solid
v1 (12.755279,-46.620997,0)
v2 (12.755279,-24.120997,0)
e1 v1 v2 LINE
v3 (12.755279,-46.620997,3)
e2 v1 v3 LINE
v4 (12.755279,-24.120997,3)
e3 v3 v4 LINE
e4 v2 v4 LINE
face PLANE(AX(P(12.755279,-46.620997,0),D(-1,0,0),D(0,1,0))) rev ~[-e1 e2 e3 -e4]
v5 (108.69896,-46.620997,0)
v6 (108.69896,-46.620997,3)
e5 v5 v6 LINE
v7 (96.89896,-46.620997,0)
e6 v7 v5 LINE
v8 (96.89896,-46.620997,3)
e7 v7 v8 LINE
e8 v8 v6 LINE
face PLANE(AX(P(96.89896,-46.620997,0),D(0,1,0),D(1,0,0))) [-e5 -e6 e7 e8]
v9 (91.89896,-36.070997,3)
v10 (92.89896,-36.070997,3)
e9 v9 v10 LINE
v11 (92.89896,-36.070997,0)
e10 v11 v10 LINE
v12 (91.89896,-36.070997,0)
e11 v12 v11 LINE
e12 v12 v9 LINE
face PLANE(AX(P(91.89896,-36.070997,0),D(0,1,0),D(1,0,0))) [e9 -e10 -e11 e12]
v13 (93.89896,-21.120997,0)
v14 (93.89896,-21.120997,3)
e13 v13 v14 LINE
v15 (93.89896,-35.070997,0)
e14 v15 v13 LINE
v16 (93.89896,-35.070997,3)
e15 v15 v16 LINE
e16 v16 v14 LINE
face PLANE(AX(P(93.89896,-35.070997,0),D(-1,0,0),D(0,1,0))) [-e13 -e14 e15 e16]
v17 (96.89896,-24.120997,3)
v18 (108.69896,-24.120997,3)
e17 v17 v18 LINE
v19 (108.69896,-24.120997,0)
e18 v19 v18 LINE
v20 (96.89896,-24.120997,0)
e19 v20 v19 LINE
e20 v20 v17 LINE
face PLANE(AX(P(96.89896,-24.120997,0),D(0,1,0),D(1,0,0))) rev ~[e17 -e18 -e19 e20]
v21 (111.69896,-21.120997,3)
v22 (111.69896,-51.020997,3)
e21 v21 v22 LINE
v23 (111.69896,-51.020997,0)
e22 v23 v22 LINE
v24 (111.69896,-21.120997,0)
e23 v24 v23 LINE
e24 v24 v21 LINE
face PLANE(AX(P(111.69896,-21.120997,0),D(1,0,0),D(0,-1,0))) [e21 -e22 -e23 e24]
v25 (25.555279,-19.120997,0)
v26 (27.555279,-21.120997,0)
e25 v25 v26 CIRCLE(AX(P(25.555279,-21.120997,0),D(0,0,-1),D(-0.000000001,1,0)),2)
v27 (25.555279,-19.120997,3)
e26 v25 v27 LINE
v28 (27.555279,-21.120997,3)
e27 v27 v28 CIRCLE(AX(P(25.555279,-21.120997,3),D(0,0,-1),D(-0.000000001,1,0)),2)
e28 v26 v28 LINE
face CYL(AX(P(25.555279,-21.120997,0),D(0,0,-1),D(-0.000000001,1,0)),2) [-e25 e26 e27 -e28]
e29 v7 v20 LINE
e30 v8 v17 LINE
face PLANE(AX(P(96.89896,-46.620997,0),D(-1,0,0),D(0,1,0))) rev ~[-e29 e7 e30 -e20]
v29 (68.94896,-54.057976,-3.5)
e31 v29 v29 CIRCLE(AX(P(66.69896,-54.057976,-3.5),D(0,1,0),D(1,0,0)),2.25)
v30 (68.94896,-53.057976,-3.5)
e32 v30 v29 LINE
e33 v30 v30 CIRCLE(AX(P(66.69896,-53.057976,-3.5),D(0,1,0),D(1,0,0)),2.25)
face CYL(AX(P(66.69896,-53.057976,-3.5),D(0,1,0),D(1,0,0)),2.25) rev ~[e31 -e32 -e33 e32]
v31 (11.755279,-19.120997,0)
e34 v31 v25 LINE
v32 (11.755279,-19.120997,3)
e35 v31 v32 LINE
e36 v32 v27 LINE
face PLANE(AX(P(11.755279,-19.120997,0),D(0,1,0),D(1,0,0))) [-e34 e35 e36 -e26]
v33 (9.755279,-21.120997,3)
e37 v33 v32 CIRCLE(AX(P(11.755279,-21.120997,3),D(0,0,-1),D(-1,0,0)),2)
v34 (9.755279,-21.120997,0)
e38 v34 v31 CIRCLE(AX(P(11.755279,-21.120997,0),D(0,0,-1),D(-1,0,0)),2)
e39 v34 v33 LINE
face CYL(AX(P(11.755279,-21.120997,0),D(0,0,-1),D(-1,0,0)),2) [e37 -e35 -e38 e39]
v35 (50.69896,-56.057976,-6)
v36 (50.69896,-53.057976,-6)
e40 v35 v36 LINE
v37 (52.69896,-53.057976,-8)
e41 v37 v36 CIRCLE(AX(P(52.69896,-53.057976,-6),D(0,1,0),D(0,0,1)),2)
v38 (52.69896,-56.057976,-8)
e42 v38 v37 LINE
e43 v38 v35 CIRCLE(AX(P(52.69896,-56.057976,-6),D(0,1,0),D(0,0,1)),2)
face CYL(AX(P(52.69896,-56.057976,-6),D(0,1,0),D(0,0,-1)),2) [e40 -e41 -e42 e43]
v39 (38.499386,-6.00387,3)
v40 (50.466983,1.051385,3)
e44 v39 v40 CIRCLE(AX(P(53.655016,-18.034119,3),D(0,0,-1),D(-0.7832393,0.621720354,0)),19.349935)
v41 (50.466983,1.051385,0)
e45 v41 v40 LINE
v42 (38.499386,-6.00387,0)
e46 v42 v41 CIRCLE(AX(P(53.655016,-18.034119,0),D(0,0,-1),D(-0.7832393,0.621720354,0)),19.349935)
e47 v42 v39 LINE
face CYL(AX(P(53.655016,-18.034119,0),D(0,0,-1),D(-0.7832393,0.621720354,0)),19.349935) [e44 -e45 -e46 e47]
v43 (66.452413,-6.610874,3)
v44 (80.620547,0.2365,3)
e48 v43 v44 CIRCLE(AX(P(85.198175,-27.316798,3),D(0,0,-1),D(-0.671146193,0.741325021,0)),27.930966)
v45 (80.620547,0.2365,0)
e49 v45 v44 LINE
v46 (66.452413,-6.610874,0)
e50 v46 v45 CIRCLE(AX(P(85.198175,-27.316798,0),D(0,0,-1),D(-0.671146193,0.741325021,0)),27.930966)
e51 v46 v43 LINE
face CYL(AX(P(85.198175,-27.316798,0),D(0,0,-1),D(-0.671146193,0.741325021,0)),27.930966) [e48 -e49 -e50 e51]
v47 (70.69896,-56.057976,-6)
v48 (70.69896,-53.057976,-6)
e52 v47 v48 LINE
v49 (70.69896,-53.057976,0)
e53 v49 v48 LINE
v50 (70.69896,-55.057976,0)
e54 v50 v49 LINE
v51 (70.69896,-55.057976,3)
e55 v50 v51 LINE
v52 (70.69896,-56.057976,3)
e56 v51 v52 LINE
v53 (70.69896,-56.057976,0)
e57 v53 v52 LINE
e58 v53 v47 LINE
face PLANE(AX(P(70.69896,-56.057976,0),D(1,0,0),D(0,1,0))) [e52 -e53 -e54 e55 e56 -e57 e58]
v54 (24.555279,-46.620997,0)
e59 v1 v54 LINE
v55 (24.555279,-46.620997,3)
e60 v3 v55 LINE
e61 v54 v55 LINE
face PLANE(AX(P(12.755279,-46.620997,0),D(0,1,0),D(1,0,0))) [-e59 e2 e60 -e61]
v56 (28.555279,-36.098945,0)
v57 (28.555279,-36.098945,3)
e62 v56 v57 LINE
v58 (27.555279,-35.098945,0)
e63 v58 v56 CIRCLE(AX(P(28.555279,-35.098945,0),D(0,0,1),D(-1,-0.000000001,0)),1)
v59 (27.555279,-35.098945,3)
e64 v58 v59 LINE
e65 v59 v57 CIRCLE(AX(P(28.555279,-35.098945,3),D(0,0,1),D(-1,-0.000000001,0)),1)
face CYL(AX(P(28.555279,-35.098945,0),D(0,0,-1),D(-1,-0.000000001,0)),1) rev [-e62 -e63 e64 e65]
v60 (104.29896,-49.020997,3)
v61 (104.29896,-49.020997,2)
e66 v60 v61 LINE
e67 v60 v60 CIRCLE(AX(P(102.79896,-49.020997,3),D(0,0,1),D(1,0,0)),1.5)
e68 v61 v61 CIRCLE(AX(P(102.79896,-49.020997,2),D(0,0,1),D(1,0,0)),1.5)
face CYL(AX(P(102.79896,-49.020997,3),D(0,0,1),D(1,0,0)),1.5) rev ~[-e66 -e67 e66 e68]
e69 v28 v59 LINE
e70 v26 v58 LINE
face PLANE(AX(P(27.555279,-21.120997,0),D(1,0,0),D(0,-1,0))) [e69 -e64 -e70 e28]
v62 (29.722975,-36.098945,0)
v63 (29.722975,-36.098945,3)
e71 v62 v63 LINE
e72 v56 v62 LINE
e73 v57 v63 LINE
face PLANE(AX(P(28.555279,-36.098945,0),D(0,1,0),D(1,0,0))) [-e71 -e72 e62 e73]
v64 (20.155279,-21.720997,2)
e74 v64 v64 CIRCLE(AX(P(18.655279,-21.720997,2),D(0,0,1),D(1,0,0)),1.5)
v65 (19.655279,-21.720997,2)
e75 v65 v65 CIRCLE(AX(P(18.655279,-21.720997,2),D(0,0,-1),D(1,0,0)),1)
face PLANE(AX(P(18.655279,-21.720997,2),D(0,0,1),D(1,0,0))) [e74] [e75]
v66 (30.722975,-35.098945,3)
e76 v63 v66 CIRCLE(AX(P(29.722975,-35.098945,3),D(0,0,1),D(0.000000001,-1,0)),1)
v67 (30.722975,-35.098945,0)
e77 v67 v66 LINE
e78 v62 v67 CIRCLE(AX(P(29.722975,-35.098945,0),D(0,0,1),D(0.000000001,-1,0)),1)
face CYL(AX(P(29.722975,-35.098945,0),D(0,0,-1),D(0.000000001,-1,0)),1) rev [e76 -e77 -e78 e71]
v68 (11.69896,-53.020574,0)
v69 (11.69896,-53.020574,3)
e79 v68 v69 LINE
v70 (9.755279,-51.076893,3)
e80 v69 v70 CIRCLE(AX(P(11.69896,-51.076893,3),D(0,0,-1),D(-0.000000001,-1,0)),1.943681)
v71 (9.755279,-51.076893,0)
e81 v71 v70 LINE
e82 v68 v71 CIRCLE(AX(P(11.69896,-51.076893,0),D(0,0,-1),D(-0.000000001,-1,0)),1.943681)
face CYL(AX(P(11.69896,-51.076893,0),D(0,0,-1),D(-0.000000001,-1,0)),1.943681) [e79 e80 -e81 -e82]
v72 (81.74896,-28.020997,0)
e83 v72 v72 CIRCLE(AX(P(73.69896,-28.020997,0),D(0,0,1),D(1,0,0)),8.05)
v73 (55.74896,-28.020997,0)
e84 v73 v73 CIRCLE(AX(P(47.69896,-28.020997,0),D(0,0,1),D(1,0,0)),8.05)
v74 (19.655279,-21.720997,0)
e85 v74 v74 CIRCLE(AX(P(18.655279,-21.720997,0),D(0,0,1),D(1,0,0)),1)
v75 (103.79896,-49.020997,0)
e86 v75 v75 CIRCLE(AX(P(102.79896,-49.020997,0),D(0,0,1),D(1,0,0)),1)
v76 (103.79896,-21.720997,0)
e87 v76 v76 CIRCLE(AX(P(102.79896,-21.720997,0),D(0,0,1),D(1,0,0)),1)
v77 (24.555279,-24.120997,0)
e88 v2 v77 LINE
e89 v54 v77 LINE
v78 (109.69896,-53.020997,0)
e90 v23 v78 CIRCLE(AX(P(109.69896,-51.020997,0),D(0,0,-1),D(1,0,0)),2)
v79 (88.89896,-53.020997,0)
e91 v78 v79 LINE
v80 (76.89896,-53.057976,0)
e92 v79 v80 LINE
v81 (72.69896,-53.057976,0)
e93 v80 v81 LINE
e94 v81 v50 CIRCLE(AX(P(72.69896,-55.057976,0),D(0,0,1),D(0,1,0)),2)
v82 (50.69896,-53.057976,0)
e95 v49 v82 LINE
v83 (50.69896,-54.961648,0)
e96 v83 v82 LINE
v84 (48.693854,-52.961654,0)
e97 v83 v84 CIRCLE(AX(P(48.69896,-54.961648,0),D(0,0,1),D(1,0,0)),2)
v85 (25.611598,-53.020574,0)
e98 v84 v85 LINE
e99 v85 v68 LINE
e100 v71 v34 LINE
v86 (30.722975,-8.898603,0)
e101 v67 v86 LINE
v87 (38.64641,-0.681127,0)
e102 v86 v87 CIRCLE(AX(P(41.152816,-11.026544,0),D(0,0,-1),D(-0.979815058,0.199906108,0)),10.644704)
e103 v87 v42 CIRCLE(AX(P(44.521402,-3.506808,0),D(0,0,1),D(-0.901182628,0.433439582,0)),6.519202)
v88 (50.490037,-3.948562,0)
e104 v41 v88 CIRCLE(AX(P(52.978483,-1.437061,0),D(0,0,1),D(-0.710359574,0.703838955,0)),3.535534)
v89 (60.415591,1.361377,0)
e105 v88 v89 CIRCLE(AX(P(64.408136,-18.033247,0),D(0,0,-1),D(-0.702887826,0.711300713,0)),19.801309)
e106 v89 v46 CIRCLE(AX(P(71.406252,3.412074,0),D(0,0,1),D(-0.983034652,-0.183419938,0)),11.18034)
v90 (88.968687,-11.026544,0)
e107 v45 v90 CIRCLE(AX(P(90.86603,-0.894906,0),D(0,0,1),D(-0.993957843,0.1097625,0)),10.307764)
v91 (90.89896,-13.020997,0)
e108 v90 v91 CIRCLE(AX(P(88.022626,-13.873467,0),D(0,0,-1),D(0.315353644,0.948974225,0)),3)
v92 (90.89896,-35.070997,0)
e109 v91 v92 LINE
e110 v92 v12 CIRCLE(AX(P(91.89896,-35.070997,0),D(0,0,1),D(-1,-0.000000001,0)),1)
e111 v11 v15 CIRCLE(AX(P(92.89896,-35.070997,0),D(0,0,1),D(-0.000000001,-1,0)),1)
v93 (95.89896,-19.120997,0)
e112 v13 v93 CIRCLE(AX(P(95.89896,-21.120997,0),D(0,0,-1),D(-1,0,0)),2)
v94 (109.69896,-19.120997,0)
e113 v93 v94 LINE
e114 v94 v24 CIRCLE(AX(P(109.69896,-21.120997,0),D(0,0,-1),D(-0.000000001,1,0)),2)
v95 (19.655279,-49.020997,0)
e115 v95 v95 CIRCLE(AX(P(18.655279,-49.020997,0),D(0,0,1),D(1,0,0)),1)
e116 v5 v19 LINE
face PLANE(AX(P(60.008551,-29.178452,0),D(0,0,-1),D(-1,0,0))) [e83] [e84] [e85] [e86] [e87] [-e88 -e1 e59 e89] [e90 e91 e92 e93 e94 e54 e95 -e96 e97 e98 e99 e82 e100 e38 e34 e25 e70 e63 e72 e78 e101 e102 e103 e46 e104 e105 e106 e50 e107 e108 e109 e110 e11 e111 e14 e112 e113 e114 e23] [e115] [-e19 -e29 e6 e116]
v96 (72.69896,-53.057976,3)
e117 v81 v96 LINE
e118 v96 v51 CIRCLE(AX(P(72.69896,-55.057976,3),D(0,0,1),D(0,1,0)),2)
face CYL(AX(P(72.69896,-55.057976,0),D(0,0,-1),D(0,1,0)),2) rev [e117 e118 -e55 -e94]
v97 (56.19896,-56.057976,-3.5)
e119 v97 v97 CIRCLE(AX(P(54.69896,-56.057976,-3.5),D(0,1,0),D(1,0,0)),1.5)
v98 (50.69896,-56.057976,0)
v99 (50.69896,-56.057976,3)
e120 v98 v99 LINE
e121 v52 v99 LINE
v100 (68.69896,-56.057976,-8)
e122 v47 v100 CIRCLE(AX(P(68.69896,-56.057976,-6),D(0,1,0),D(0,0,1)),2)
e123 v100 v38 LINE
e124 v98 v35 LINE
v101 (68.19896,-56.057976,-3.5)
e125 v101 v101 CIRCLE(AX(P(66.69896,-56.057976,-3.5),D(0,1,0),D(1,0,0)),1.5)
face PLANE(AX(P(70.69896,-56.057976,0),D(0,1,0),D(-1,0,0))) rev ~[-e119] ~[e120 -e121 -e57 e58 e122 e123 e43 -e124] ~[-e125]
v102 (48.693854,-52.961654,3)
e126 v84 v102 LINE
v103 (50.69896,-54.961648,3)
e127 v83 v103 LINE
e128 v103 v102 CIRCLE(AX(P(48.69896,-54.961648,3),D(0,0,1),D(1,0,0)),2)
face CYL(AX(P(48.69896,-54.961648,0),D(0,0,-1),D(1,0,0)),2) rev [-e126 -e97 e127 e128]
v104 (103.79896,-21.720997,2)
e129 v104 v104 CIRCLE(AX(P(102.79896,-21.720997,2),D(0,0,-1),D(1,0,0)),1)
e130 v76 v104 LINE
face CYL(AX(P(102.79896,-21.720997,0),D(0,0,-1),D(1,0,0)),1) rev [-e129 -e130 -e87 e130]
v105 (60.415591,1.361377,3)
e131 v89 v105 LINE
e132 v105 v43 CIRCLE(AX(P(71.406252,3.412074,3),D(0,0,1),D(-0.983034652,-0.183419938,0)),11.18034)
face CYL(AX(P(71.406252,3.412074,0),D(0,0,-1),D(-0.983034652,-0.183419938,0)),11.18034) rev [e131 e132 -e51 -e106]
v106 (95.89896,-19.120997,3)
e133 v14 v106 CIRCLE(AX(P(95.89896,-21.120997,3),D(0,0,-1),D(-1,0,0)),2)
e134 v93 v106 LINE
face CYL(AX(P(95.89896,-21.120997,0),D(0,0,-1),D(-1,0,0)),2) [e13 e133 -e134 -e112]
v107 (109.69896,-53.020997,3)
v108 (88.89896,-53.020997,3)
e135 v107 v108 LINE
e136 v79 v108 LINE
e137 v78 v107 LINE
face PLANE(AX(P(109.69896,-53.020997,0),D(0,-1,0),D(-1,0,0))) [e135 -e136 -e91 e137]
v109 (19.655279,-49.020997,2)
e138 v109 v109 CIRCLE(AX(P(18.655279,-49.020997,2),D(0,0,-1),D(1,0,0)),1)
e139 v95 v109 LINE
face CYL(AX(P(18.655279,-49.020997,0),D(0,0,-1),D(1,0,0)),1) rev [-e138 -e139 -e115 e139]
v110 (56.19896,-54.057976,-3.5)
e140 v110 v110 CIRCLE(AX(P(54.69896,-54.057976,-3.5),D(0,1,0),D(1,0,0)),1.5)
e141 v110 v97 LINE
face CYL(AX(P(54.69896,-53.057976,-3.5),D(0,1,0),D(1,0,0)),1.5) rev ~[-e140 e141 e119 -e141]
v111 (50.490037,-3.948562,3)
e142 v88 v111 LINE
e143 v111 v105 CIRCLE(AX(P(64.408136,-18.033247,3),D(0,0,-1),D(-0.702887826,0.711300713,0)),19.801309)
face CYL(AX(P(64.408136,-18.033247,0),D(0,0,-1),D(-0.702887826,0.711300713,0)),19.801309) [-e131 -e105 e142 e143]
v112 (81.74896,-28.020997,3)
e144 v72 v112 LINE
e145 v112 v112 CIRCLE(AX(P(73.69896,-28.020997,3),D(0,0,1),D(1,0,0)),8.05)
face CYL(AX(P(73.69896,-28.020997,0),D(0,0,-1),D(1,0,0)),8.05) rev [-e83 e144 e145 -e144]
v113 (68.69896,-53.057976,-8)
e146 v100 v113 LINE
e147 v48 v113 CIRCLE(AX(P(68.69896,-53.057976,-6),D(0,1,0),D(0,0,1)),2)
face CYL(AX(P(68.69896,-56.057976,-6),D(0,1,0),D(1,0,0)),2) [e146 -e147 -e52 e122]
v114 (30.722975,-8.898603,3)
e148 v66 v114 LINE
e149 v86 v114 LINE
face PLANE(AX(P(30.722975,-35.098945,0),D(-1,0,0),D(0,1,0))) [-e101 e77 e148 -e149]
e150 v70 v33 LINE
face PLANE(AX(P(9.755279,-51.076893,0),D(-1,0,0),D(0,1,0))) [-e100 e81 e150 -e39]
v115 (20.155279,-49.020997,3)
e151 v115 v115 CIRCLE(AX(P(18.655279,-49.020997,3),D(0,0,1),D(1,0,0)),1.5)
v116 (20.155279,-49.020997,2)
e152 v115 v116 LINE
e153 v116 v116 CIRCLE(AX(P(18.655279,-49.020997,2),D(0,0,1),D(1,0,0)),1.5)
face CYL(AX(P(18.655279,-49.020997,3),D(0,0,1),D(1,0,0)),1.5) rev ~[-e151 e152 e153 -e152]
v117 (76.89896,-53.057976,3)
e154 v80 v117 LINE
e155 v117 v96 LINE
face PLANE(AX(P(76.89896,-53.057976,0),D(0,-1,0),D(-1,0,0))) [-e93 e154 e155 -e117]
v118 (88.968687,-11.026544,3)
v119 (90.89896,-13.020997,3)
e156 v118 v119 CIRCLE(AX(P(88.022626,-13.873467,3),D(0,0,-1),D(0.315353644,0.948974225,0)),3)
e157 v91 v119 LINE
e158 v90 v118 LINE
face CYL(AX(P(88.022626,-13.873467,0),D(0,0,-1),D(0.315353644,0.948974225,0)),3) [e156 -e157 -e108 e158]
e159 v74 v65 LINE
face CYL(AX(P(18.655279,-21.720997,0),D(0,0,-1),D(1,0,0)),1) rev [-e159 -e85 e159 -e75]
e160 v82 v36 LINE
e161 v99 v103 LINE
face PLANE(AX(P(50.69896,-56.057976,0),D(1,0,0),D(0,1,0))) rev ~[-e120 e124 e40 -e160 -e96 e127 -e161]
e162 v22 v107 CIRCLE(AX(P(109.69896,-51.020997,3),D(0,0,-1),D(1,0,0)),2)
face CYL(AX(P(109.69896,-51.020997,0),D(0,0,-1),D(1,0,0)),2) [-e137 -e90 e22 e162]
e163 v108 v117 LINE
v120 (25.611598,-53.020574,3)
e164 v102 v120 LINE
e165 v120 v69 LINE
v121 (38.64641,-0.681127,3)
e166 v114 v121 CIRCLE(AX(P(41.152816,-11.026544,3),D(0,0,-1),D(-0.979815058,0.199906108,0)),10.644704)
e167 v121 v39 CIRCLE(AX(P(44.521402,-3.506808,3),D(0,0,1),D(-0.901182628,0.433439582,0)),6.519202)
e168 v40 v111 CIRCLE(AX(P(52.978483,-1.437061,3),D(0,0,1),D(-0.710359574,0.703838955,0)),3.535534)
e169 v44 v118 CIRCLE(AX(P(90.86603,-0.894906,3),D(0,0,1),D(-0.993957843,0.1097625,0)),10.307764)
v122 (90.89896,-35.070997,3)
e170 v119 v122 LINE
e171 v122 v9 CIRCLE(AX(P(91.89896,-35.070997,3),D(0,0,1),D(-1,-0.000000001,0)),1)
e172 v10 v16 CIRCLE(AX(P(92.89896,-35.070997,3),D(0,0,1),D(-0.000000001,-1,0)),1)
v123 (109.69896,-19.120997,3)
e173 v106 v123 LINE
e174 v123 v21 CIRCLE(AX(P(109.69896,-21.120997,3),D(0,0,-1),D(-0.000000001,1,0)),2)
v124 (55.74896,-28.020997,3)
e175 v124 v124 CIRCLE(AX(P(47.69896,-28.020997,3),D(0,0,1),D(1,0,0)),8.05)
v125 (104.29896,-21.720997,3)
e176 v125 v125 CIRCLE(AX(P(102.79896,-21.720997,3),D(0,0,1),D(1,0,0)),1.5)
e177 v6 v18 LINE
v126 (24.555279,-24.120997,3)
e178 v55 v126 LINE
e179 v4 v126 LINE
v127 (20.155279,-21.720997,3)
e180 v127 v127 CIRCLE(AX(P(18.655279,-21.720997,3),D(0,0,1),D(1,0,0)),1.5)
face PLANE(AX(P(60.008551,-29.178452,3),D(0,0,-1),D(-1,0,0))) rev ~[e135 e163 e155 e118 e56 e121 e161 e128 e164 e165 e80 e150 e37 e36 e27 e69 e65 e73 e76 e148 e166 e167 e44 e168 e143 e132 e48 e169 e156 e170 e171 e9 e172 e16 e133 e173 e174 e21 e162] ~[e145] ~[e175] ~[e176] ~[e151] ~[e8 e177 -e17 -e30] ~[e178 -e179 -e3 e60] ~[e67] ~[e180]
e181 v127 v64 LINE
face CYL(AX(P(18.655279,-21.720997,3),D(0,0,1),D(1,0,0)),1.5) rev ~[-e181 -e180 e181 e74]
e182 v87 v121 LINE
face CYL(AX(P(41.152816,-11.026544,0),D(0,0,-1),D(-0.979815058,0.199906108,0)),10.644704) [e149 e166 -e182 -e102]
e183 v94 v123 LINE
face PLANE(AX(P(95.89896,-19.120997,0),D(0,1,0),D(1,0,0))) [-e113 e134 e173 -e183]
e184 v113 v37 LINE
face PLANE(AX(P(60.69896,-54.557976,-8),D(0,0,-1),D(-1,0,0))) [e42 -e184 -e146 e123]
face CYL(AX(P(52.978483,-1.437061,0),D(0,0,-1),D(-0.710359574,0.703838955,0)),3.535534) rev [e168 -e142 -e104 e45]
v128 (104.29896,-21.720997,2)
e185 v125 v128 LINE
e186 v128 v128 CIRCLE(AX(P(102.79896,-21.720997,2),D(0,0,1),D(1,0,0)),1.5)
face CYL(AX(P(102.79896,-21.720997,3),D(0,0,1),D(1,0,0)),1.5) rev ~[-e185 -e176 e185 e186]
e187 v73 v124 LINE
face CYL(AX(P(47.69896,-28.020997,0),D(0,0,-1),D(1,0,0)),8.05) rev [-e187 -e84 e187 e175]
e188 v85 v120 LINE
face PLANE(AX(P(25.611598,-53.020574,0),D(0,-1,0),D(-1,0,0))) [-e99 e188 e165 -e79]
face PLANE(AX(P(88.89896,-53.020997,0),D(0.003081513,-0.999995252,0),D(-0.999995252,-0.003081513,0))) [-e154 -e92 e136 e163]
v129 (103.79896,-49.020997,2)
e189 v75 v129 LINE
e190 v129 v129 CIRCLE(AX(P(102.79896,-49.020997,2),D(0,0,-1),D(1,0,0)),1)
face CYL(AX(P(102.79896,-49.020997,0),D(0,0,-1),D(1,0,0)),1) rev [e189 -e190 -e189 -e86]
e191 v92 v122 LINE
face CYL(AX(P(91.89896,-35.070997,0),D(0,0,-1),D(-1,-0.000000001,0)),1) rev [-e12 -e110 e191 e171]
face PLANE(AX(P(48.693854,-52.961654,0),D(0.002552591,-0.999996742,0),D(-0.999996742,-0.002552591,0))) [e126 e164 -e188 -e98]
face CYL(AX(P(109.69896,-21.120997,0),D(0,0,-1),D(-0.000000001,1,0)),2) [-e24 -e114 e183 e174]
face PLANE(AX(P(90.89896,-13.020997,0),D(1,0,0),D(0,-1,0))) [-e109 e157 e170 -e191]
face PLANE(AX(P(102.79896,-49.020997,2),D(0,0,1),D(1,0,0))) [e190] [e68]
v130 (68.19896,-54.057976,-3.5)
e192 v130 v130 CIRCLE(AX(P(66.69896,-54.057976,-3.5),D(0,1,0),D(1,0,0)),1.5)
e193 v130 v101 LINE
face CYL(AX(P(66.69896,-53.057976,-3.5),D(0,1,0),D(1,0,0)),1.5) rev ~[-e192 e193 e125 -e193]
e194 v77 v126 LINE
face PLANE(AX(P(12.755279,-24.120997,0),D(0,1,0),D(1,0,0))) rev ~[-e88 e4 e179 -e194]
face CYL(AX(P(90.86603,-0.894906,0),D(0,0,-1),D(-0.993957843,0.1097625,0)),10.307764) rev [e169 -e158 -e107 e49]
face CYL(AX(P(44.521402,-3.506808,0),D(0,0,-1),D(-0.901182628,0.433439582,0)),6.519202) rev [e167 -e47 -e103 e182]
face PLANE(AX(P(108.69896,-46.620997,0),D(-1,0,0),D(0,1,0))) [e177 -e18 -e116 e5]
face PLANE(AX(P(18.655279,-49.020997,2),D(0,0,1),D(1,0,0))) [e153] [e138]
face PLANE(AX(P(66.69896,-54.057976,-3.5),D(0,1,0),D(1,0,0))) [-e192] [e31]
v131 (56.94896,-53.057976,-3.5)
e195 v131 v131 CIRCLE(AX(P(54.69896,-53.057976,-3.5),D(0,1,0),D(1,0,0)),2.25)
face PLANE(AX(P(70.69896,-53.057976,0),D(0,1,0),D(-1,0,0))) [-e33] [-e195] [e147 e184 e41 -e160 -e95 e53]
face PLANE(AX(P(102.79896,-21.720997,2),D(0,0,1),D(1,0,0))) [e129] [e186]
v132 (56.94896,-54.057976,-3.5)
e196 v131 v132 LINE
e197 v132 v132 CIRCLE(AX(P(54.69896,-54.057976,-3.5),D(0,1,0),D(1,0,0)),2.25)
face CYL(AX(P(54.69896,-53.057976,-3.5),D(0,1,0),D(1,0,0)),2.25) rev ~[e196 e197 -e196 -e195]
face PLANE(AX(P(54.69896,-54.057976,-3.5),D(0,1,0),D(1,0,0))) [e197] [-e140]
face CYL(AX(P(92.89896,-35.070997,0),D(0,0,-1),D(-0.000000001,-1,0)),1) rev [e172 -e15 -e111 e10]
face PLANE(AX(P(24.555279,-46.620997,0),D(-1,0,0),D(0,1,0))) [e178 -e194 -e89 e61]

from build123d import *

# Parameters (mm, degrees)
MODEL_R                 = 8.05
MODEL_R_2               = 1
MODEL_W                 = 11.8
MODEL_H                 = 22.5
SALIENTE_EXTRUIR1_DEPTH = 3
CROQUIS1_W              = 19.999999999
CROQUIS1_H              = 3
SALIENTE_EXTRUIR2_DEPTH = 8
CROQUIS2_R              = 1.5
CORTAR_EXTRUIR1_DEPTH   = 3
REDONDEO2_R             = 2
CROQUIS3_R              = 1.5
CORTAR_EXTRUIR2_DEPTH   = 1
CROQUIS4_R              = 2.25
CORTAR_EXTRUIR3_DEPTH   = 1


with BuildPart() as part:
    # Model → Saliente-Extruir1 (new body)
    with BuildSketch(Plane.XY):
        with BuildLine():
            Line((28.555278924, -36.098945331), (29.722974743, -36.098945331))
            ThreePointArc((29.722974743, -36.098945331), (30.430081524, -35.806052112), (30.722974743, -35.098945331))
            Line((30.722974743, -35.098945331), (30.722974743, -8.898603015))
            ThreePointArc((30.722974743, -8.898603015), (33.490026108, -3.637946704), (38.646410135, -0.681127156))
            ThreePointArc((38.646410135, -0.681127156), (38.00468524, -3.326803395), (38.499385848, -6.00386987))
            ThreePointArc((38.499385848, -6.00386987), (43.828182769, -1.365184752), (50.466982875, 1.051385009))
            ThreePointArc((50.466982875, 1.051385009), (49.442986911, -1.453363029), (50.490036744, -3.948561843))
            ThreePointArc((50.490036744, -3.948561843), (55.067544133, -0.573430734), (60.41559095, 1.361376528))
            ThreePointArc((60.41559095, 1.361376528), (62.493005652, -3.33729886), (66.452413363, -6.610873791))
            ThreePointArc((66.452413363, -6.610873791), (73.044296854, -2.168793623), (80.620547187, 0.236499516))
            ThreePointArc((80.620547187, 0.236499516), (82.584961535, -7.032813492), (88.968686823, -11.026544426))
            ThreePointArc((88.968686823, -11.026544426), (90.178347555, -11.787115236), (90.898959582, -13.020997464))
            Line((90.898959582, -13.020997464), (90.898959582, -35.070997464))
            ThreePointArc((90.898959582, -35.070997464), (91.191852801, -35.778104245), (91.898959582, -36.070997464))
            Line((91.898959582, -36.070997464), (92.898959582, -36.070997464))
            ThreePointArc((92.898959582, -36.070997464), (93.606066364, -35.778104245), (93.898959582, -35.070997464))
            Line((93.898959582, -35.070997464), (93.898959582, -21.120997464))
            ThreePointArc((93.898959582, -21.120997464), (94.48474602, -19.706783901), (95.898959582, -19.120997464))
            Line((95.898959582, -19.120997464), (109.698959582, -19.120997464))
            ThreePointArc((109.698959582, -19.120997464), (111.113173145, -19.706783901), (111.698959582, -21.120997464))
            Line((111.698959582, -21.120997464), (111.698959582, -51.020997464))
            ThreePointArc((111.698959582, -51.020997464), (111.113173145, -52.435211026), (109.698959582, -53.020997464))
            Line((109.698959582, -53.020997464), (88.898959583, -53.020997464))
            Line((88.898959583, -53.020997464), (76.898959583, -53.057975795))
            Line((76.898959583, -53.057975795), (72.698959583, -53.057975795))
            ThreePointArc((72.698959583, -53.057975795), (71.28474602, -53.643762233), (70.698959583, -55.057975795))
            Line((70.698959583, -55.057975795), (70.698959583, -56.057975795))
            Line((70.698959583, -56.057975795), (50.698959583, -56.057975795))
            Line((50.698959583, -56.057975795), (50.698959583, -54.961647582))
            ThreePointArc((50.698959583, -54.961647582), (50.111367037, -53.545630215), (48.6938544, -52.961654097))
            Line((48.6938544, -52.961654097), (25.611598266, -53.020573857))
            Line((25.611598266, -53.020573857), (11.698959583, -53.020573857))
            ThreePointArc((11.698959583, -53.020573857), (10.324569809, -52.451282972), (9.755278924, -51.076893199))
            Line((9.755278924, -51.076893199), (9.755278924, -21.120997464))
            ThreePointArc((9.755278924, -21.120997464), (10.341065362, -19.706783901), (11.755278924, -19.120997464))
            Line((11.755278924, -19.120997464), (25.555278924, -19.120997464))
            ThreePointArc((25.555278924, -19.120997464), (26.969492487, -19.706783901), (27.555278924, -21.120997464))
            Line((27.555278924, -21.120997464), (27.555278924, -35.098945331))
            ThreePointArc((27.555278924, -35.098945331), (27.848172143, -35.806052112), (28.555278924, -36.098945331))
        make_face()
        with Locations((73.698959582, -28.020997464)):
            Circle(MODEL_R, mode=Mode.SUBTRACT)
        with Locations((47.698959583, -28.020997464)):
            Circle(MODEL_R, mode=Mode.SUBTRACT)
        with Locations((102.798959583, -21.720997464)):
            Circle(MODEL_R_2, mode=Mode.SUBTRACT)
        with Locations((102.798959583, -49.020997464)):
            Circle(MODEL_R_2, mode=Mode.SUBTRACT)
        with Locations((18.655278924, -49.020997464)):
            Circle(MODEL_R_2, mode=Mode.SUBTRACT)
        with Locations((18.655278924, -21.720997464)):
            Circle(MODEL_R_2, mode=Mode.SUBTRACT)
        with Locations((102.798959582, -35.370997464)):
            Rectangle(MODEL_W, MODEL_H, mode=Mode.SUBTRACT)
        with Locations((18.655278924, -35.370997464)):
            Rectangle(MODEL_W, MODEL_H, mode=Mode.SUBTRACT)
    extrude(amount=SALIENTE_EXTRUIR1_DEPTH)

    # Croquis1 → Saliente-Extruir2 (add)
    with BuildSketch(Plane(origin=(0, 0, 0), x_dir=(-1, 0, 0), z_dir=(0, 0, -1))):
        with Locations((-60.698959583, -54.557975795)):
            Rectangle(CROQUIS1_W, CROQUIS1_H)
    extrude(amount=SALIENTE_EXTRUIR2_DEPTH)

    # Croquis2 → Cortar-Extruir1 (cut)
    with BuildSketch(Plane(origin=(0, -53.057975795, 0), x_dir=(1, 0, 0), z_dir=(0, 1, 0))):
        with Locations((66.698959583, 3.5)):
            Circle(CROQUIS2_R)
        with Locations((54.698959583, 3.5)):
            Circle(CROQUIS2_R)
    extrude(amount=-CORTAR_EXTRUIR1_DEPTH, mode=Mode.SUBTRACT)

    # Redondeo2
    redondeo2_edges = [part.edges().sort_by_distance(p)[0] for p in [
        (50.698959583, -54.557975795, -8),
        (70.698959583, -54.557975795, -8),
    ]]
    fillet(redondeo2_edges, radius=REDONDEO2_R)

    # Croquis3 → Cortar-Extruir2 (cut)
    with BuildSketch(Plane.XY.offset(3)):
        with Locations((18.655278924, -21.720997464)):
            Circle(CROQUIS3_R)
        with Locations((18.655278924, -49.020997464)):
            Circle(CROQUIS3_R)
        with Locations((102.798959583, -49.020997464)):
            Circle(CROQUIS3_R)
        with Locations((102.798959583, -21.720997464)):
            Circle(CROQUIS3_R)
    extrude(amount=-CORTAR_EXTRUIR2_DEPTH, mode=Mode.SUBTRACT)

    # Croquis4 → Cortar-Extruir3 (cut)
    with BuildSketch(Plane(origin=(0, -53.057975795, 0), x_dir=(1, 0, 0), z_dir=(0, 1, 0))):
        with Locations((54.698959583, 3.5)):
            Circle(CROQUIS4_R)
        with Locations((66.698959583, 3.5)):
            Circle(CROQUIS4_R)
    extrude(amount=-CORTAR_EXTRUIR3_DEPTH, mode=Mode.SUBTRACT)


solid = part.part
